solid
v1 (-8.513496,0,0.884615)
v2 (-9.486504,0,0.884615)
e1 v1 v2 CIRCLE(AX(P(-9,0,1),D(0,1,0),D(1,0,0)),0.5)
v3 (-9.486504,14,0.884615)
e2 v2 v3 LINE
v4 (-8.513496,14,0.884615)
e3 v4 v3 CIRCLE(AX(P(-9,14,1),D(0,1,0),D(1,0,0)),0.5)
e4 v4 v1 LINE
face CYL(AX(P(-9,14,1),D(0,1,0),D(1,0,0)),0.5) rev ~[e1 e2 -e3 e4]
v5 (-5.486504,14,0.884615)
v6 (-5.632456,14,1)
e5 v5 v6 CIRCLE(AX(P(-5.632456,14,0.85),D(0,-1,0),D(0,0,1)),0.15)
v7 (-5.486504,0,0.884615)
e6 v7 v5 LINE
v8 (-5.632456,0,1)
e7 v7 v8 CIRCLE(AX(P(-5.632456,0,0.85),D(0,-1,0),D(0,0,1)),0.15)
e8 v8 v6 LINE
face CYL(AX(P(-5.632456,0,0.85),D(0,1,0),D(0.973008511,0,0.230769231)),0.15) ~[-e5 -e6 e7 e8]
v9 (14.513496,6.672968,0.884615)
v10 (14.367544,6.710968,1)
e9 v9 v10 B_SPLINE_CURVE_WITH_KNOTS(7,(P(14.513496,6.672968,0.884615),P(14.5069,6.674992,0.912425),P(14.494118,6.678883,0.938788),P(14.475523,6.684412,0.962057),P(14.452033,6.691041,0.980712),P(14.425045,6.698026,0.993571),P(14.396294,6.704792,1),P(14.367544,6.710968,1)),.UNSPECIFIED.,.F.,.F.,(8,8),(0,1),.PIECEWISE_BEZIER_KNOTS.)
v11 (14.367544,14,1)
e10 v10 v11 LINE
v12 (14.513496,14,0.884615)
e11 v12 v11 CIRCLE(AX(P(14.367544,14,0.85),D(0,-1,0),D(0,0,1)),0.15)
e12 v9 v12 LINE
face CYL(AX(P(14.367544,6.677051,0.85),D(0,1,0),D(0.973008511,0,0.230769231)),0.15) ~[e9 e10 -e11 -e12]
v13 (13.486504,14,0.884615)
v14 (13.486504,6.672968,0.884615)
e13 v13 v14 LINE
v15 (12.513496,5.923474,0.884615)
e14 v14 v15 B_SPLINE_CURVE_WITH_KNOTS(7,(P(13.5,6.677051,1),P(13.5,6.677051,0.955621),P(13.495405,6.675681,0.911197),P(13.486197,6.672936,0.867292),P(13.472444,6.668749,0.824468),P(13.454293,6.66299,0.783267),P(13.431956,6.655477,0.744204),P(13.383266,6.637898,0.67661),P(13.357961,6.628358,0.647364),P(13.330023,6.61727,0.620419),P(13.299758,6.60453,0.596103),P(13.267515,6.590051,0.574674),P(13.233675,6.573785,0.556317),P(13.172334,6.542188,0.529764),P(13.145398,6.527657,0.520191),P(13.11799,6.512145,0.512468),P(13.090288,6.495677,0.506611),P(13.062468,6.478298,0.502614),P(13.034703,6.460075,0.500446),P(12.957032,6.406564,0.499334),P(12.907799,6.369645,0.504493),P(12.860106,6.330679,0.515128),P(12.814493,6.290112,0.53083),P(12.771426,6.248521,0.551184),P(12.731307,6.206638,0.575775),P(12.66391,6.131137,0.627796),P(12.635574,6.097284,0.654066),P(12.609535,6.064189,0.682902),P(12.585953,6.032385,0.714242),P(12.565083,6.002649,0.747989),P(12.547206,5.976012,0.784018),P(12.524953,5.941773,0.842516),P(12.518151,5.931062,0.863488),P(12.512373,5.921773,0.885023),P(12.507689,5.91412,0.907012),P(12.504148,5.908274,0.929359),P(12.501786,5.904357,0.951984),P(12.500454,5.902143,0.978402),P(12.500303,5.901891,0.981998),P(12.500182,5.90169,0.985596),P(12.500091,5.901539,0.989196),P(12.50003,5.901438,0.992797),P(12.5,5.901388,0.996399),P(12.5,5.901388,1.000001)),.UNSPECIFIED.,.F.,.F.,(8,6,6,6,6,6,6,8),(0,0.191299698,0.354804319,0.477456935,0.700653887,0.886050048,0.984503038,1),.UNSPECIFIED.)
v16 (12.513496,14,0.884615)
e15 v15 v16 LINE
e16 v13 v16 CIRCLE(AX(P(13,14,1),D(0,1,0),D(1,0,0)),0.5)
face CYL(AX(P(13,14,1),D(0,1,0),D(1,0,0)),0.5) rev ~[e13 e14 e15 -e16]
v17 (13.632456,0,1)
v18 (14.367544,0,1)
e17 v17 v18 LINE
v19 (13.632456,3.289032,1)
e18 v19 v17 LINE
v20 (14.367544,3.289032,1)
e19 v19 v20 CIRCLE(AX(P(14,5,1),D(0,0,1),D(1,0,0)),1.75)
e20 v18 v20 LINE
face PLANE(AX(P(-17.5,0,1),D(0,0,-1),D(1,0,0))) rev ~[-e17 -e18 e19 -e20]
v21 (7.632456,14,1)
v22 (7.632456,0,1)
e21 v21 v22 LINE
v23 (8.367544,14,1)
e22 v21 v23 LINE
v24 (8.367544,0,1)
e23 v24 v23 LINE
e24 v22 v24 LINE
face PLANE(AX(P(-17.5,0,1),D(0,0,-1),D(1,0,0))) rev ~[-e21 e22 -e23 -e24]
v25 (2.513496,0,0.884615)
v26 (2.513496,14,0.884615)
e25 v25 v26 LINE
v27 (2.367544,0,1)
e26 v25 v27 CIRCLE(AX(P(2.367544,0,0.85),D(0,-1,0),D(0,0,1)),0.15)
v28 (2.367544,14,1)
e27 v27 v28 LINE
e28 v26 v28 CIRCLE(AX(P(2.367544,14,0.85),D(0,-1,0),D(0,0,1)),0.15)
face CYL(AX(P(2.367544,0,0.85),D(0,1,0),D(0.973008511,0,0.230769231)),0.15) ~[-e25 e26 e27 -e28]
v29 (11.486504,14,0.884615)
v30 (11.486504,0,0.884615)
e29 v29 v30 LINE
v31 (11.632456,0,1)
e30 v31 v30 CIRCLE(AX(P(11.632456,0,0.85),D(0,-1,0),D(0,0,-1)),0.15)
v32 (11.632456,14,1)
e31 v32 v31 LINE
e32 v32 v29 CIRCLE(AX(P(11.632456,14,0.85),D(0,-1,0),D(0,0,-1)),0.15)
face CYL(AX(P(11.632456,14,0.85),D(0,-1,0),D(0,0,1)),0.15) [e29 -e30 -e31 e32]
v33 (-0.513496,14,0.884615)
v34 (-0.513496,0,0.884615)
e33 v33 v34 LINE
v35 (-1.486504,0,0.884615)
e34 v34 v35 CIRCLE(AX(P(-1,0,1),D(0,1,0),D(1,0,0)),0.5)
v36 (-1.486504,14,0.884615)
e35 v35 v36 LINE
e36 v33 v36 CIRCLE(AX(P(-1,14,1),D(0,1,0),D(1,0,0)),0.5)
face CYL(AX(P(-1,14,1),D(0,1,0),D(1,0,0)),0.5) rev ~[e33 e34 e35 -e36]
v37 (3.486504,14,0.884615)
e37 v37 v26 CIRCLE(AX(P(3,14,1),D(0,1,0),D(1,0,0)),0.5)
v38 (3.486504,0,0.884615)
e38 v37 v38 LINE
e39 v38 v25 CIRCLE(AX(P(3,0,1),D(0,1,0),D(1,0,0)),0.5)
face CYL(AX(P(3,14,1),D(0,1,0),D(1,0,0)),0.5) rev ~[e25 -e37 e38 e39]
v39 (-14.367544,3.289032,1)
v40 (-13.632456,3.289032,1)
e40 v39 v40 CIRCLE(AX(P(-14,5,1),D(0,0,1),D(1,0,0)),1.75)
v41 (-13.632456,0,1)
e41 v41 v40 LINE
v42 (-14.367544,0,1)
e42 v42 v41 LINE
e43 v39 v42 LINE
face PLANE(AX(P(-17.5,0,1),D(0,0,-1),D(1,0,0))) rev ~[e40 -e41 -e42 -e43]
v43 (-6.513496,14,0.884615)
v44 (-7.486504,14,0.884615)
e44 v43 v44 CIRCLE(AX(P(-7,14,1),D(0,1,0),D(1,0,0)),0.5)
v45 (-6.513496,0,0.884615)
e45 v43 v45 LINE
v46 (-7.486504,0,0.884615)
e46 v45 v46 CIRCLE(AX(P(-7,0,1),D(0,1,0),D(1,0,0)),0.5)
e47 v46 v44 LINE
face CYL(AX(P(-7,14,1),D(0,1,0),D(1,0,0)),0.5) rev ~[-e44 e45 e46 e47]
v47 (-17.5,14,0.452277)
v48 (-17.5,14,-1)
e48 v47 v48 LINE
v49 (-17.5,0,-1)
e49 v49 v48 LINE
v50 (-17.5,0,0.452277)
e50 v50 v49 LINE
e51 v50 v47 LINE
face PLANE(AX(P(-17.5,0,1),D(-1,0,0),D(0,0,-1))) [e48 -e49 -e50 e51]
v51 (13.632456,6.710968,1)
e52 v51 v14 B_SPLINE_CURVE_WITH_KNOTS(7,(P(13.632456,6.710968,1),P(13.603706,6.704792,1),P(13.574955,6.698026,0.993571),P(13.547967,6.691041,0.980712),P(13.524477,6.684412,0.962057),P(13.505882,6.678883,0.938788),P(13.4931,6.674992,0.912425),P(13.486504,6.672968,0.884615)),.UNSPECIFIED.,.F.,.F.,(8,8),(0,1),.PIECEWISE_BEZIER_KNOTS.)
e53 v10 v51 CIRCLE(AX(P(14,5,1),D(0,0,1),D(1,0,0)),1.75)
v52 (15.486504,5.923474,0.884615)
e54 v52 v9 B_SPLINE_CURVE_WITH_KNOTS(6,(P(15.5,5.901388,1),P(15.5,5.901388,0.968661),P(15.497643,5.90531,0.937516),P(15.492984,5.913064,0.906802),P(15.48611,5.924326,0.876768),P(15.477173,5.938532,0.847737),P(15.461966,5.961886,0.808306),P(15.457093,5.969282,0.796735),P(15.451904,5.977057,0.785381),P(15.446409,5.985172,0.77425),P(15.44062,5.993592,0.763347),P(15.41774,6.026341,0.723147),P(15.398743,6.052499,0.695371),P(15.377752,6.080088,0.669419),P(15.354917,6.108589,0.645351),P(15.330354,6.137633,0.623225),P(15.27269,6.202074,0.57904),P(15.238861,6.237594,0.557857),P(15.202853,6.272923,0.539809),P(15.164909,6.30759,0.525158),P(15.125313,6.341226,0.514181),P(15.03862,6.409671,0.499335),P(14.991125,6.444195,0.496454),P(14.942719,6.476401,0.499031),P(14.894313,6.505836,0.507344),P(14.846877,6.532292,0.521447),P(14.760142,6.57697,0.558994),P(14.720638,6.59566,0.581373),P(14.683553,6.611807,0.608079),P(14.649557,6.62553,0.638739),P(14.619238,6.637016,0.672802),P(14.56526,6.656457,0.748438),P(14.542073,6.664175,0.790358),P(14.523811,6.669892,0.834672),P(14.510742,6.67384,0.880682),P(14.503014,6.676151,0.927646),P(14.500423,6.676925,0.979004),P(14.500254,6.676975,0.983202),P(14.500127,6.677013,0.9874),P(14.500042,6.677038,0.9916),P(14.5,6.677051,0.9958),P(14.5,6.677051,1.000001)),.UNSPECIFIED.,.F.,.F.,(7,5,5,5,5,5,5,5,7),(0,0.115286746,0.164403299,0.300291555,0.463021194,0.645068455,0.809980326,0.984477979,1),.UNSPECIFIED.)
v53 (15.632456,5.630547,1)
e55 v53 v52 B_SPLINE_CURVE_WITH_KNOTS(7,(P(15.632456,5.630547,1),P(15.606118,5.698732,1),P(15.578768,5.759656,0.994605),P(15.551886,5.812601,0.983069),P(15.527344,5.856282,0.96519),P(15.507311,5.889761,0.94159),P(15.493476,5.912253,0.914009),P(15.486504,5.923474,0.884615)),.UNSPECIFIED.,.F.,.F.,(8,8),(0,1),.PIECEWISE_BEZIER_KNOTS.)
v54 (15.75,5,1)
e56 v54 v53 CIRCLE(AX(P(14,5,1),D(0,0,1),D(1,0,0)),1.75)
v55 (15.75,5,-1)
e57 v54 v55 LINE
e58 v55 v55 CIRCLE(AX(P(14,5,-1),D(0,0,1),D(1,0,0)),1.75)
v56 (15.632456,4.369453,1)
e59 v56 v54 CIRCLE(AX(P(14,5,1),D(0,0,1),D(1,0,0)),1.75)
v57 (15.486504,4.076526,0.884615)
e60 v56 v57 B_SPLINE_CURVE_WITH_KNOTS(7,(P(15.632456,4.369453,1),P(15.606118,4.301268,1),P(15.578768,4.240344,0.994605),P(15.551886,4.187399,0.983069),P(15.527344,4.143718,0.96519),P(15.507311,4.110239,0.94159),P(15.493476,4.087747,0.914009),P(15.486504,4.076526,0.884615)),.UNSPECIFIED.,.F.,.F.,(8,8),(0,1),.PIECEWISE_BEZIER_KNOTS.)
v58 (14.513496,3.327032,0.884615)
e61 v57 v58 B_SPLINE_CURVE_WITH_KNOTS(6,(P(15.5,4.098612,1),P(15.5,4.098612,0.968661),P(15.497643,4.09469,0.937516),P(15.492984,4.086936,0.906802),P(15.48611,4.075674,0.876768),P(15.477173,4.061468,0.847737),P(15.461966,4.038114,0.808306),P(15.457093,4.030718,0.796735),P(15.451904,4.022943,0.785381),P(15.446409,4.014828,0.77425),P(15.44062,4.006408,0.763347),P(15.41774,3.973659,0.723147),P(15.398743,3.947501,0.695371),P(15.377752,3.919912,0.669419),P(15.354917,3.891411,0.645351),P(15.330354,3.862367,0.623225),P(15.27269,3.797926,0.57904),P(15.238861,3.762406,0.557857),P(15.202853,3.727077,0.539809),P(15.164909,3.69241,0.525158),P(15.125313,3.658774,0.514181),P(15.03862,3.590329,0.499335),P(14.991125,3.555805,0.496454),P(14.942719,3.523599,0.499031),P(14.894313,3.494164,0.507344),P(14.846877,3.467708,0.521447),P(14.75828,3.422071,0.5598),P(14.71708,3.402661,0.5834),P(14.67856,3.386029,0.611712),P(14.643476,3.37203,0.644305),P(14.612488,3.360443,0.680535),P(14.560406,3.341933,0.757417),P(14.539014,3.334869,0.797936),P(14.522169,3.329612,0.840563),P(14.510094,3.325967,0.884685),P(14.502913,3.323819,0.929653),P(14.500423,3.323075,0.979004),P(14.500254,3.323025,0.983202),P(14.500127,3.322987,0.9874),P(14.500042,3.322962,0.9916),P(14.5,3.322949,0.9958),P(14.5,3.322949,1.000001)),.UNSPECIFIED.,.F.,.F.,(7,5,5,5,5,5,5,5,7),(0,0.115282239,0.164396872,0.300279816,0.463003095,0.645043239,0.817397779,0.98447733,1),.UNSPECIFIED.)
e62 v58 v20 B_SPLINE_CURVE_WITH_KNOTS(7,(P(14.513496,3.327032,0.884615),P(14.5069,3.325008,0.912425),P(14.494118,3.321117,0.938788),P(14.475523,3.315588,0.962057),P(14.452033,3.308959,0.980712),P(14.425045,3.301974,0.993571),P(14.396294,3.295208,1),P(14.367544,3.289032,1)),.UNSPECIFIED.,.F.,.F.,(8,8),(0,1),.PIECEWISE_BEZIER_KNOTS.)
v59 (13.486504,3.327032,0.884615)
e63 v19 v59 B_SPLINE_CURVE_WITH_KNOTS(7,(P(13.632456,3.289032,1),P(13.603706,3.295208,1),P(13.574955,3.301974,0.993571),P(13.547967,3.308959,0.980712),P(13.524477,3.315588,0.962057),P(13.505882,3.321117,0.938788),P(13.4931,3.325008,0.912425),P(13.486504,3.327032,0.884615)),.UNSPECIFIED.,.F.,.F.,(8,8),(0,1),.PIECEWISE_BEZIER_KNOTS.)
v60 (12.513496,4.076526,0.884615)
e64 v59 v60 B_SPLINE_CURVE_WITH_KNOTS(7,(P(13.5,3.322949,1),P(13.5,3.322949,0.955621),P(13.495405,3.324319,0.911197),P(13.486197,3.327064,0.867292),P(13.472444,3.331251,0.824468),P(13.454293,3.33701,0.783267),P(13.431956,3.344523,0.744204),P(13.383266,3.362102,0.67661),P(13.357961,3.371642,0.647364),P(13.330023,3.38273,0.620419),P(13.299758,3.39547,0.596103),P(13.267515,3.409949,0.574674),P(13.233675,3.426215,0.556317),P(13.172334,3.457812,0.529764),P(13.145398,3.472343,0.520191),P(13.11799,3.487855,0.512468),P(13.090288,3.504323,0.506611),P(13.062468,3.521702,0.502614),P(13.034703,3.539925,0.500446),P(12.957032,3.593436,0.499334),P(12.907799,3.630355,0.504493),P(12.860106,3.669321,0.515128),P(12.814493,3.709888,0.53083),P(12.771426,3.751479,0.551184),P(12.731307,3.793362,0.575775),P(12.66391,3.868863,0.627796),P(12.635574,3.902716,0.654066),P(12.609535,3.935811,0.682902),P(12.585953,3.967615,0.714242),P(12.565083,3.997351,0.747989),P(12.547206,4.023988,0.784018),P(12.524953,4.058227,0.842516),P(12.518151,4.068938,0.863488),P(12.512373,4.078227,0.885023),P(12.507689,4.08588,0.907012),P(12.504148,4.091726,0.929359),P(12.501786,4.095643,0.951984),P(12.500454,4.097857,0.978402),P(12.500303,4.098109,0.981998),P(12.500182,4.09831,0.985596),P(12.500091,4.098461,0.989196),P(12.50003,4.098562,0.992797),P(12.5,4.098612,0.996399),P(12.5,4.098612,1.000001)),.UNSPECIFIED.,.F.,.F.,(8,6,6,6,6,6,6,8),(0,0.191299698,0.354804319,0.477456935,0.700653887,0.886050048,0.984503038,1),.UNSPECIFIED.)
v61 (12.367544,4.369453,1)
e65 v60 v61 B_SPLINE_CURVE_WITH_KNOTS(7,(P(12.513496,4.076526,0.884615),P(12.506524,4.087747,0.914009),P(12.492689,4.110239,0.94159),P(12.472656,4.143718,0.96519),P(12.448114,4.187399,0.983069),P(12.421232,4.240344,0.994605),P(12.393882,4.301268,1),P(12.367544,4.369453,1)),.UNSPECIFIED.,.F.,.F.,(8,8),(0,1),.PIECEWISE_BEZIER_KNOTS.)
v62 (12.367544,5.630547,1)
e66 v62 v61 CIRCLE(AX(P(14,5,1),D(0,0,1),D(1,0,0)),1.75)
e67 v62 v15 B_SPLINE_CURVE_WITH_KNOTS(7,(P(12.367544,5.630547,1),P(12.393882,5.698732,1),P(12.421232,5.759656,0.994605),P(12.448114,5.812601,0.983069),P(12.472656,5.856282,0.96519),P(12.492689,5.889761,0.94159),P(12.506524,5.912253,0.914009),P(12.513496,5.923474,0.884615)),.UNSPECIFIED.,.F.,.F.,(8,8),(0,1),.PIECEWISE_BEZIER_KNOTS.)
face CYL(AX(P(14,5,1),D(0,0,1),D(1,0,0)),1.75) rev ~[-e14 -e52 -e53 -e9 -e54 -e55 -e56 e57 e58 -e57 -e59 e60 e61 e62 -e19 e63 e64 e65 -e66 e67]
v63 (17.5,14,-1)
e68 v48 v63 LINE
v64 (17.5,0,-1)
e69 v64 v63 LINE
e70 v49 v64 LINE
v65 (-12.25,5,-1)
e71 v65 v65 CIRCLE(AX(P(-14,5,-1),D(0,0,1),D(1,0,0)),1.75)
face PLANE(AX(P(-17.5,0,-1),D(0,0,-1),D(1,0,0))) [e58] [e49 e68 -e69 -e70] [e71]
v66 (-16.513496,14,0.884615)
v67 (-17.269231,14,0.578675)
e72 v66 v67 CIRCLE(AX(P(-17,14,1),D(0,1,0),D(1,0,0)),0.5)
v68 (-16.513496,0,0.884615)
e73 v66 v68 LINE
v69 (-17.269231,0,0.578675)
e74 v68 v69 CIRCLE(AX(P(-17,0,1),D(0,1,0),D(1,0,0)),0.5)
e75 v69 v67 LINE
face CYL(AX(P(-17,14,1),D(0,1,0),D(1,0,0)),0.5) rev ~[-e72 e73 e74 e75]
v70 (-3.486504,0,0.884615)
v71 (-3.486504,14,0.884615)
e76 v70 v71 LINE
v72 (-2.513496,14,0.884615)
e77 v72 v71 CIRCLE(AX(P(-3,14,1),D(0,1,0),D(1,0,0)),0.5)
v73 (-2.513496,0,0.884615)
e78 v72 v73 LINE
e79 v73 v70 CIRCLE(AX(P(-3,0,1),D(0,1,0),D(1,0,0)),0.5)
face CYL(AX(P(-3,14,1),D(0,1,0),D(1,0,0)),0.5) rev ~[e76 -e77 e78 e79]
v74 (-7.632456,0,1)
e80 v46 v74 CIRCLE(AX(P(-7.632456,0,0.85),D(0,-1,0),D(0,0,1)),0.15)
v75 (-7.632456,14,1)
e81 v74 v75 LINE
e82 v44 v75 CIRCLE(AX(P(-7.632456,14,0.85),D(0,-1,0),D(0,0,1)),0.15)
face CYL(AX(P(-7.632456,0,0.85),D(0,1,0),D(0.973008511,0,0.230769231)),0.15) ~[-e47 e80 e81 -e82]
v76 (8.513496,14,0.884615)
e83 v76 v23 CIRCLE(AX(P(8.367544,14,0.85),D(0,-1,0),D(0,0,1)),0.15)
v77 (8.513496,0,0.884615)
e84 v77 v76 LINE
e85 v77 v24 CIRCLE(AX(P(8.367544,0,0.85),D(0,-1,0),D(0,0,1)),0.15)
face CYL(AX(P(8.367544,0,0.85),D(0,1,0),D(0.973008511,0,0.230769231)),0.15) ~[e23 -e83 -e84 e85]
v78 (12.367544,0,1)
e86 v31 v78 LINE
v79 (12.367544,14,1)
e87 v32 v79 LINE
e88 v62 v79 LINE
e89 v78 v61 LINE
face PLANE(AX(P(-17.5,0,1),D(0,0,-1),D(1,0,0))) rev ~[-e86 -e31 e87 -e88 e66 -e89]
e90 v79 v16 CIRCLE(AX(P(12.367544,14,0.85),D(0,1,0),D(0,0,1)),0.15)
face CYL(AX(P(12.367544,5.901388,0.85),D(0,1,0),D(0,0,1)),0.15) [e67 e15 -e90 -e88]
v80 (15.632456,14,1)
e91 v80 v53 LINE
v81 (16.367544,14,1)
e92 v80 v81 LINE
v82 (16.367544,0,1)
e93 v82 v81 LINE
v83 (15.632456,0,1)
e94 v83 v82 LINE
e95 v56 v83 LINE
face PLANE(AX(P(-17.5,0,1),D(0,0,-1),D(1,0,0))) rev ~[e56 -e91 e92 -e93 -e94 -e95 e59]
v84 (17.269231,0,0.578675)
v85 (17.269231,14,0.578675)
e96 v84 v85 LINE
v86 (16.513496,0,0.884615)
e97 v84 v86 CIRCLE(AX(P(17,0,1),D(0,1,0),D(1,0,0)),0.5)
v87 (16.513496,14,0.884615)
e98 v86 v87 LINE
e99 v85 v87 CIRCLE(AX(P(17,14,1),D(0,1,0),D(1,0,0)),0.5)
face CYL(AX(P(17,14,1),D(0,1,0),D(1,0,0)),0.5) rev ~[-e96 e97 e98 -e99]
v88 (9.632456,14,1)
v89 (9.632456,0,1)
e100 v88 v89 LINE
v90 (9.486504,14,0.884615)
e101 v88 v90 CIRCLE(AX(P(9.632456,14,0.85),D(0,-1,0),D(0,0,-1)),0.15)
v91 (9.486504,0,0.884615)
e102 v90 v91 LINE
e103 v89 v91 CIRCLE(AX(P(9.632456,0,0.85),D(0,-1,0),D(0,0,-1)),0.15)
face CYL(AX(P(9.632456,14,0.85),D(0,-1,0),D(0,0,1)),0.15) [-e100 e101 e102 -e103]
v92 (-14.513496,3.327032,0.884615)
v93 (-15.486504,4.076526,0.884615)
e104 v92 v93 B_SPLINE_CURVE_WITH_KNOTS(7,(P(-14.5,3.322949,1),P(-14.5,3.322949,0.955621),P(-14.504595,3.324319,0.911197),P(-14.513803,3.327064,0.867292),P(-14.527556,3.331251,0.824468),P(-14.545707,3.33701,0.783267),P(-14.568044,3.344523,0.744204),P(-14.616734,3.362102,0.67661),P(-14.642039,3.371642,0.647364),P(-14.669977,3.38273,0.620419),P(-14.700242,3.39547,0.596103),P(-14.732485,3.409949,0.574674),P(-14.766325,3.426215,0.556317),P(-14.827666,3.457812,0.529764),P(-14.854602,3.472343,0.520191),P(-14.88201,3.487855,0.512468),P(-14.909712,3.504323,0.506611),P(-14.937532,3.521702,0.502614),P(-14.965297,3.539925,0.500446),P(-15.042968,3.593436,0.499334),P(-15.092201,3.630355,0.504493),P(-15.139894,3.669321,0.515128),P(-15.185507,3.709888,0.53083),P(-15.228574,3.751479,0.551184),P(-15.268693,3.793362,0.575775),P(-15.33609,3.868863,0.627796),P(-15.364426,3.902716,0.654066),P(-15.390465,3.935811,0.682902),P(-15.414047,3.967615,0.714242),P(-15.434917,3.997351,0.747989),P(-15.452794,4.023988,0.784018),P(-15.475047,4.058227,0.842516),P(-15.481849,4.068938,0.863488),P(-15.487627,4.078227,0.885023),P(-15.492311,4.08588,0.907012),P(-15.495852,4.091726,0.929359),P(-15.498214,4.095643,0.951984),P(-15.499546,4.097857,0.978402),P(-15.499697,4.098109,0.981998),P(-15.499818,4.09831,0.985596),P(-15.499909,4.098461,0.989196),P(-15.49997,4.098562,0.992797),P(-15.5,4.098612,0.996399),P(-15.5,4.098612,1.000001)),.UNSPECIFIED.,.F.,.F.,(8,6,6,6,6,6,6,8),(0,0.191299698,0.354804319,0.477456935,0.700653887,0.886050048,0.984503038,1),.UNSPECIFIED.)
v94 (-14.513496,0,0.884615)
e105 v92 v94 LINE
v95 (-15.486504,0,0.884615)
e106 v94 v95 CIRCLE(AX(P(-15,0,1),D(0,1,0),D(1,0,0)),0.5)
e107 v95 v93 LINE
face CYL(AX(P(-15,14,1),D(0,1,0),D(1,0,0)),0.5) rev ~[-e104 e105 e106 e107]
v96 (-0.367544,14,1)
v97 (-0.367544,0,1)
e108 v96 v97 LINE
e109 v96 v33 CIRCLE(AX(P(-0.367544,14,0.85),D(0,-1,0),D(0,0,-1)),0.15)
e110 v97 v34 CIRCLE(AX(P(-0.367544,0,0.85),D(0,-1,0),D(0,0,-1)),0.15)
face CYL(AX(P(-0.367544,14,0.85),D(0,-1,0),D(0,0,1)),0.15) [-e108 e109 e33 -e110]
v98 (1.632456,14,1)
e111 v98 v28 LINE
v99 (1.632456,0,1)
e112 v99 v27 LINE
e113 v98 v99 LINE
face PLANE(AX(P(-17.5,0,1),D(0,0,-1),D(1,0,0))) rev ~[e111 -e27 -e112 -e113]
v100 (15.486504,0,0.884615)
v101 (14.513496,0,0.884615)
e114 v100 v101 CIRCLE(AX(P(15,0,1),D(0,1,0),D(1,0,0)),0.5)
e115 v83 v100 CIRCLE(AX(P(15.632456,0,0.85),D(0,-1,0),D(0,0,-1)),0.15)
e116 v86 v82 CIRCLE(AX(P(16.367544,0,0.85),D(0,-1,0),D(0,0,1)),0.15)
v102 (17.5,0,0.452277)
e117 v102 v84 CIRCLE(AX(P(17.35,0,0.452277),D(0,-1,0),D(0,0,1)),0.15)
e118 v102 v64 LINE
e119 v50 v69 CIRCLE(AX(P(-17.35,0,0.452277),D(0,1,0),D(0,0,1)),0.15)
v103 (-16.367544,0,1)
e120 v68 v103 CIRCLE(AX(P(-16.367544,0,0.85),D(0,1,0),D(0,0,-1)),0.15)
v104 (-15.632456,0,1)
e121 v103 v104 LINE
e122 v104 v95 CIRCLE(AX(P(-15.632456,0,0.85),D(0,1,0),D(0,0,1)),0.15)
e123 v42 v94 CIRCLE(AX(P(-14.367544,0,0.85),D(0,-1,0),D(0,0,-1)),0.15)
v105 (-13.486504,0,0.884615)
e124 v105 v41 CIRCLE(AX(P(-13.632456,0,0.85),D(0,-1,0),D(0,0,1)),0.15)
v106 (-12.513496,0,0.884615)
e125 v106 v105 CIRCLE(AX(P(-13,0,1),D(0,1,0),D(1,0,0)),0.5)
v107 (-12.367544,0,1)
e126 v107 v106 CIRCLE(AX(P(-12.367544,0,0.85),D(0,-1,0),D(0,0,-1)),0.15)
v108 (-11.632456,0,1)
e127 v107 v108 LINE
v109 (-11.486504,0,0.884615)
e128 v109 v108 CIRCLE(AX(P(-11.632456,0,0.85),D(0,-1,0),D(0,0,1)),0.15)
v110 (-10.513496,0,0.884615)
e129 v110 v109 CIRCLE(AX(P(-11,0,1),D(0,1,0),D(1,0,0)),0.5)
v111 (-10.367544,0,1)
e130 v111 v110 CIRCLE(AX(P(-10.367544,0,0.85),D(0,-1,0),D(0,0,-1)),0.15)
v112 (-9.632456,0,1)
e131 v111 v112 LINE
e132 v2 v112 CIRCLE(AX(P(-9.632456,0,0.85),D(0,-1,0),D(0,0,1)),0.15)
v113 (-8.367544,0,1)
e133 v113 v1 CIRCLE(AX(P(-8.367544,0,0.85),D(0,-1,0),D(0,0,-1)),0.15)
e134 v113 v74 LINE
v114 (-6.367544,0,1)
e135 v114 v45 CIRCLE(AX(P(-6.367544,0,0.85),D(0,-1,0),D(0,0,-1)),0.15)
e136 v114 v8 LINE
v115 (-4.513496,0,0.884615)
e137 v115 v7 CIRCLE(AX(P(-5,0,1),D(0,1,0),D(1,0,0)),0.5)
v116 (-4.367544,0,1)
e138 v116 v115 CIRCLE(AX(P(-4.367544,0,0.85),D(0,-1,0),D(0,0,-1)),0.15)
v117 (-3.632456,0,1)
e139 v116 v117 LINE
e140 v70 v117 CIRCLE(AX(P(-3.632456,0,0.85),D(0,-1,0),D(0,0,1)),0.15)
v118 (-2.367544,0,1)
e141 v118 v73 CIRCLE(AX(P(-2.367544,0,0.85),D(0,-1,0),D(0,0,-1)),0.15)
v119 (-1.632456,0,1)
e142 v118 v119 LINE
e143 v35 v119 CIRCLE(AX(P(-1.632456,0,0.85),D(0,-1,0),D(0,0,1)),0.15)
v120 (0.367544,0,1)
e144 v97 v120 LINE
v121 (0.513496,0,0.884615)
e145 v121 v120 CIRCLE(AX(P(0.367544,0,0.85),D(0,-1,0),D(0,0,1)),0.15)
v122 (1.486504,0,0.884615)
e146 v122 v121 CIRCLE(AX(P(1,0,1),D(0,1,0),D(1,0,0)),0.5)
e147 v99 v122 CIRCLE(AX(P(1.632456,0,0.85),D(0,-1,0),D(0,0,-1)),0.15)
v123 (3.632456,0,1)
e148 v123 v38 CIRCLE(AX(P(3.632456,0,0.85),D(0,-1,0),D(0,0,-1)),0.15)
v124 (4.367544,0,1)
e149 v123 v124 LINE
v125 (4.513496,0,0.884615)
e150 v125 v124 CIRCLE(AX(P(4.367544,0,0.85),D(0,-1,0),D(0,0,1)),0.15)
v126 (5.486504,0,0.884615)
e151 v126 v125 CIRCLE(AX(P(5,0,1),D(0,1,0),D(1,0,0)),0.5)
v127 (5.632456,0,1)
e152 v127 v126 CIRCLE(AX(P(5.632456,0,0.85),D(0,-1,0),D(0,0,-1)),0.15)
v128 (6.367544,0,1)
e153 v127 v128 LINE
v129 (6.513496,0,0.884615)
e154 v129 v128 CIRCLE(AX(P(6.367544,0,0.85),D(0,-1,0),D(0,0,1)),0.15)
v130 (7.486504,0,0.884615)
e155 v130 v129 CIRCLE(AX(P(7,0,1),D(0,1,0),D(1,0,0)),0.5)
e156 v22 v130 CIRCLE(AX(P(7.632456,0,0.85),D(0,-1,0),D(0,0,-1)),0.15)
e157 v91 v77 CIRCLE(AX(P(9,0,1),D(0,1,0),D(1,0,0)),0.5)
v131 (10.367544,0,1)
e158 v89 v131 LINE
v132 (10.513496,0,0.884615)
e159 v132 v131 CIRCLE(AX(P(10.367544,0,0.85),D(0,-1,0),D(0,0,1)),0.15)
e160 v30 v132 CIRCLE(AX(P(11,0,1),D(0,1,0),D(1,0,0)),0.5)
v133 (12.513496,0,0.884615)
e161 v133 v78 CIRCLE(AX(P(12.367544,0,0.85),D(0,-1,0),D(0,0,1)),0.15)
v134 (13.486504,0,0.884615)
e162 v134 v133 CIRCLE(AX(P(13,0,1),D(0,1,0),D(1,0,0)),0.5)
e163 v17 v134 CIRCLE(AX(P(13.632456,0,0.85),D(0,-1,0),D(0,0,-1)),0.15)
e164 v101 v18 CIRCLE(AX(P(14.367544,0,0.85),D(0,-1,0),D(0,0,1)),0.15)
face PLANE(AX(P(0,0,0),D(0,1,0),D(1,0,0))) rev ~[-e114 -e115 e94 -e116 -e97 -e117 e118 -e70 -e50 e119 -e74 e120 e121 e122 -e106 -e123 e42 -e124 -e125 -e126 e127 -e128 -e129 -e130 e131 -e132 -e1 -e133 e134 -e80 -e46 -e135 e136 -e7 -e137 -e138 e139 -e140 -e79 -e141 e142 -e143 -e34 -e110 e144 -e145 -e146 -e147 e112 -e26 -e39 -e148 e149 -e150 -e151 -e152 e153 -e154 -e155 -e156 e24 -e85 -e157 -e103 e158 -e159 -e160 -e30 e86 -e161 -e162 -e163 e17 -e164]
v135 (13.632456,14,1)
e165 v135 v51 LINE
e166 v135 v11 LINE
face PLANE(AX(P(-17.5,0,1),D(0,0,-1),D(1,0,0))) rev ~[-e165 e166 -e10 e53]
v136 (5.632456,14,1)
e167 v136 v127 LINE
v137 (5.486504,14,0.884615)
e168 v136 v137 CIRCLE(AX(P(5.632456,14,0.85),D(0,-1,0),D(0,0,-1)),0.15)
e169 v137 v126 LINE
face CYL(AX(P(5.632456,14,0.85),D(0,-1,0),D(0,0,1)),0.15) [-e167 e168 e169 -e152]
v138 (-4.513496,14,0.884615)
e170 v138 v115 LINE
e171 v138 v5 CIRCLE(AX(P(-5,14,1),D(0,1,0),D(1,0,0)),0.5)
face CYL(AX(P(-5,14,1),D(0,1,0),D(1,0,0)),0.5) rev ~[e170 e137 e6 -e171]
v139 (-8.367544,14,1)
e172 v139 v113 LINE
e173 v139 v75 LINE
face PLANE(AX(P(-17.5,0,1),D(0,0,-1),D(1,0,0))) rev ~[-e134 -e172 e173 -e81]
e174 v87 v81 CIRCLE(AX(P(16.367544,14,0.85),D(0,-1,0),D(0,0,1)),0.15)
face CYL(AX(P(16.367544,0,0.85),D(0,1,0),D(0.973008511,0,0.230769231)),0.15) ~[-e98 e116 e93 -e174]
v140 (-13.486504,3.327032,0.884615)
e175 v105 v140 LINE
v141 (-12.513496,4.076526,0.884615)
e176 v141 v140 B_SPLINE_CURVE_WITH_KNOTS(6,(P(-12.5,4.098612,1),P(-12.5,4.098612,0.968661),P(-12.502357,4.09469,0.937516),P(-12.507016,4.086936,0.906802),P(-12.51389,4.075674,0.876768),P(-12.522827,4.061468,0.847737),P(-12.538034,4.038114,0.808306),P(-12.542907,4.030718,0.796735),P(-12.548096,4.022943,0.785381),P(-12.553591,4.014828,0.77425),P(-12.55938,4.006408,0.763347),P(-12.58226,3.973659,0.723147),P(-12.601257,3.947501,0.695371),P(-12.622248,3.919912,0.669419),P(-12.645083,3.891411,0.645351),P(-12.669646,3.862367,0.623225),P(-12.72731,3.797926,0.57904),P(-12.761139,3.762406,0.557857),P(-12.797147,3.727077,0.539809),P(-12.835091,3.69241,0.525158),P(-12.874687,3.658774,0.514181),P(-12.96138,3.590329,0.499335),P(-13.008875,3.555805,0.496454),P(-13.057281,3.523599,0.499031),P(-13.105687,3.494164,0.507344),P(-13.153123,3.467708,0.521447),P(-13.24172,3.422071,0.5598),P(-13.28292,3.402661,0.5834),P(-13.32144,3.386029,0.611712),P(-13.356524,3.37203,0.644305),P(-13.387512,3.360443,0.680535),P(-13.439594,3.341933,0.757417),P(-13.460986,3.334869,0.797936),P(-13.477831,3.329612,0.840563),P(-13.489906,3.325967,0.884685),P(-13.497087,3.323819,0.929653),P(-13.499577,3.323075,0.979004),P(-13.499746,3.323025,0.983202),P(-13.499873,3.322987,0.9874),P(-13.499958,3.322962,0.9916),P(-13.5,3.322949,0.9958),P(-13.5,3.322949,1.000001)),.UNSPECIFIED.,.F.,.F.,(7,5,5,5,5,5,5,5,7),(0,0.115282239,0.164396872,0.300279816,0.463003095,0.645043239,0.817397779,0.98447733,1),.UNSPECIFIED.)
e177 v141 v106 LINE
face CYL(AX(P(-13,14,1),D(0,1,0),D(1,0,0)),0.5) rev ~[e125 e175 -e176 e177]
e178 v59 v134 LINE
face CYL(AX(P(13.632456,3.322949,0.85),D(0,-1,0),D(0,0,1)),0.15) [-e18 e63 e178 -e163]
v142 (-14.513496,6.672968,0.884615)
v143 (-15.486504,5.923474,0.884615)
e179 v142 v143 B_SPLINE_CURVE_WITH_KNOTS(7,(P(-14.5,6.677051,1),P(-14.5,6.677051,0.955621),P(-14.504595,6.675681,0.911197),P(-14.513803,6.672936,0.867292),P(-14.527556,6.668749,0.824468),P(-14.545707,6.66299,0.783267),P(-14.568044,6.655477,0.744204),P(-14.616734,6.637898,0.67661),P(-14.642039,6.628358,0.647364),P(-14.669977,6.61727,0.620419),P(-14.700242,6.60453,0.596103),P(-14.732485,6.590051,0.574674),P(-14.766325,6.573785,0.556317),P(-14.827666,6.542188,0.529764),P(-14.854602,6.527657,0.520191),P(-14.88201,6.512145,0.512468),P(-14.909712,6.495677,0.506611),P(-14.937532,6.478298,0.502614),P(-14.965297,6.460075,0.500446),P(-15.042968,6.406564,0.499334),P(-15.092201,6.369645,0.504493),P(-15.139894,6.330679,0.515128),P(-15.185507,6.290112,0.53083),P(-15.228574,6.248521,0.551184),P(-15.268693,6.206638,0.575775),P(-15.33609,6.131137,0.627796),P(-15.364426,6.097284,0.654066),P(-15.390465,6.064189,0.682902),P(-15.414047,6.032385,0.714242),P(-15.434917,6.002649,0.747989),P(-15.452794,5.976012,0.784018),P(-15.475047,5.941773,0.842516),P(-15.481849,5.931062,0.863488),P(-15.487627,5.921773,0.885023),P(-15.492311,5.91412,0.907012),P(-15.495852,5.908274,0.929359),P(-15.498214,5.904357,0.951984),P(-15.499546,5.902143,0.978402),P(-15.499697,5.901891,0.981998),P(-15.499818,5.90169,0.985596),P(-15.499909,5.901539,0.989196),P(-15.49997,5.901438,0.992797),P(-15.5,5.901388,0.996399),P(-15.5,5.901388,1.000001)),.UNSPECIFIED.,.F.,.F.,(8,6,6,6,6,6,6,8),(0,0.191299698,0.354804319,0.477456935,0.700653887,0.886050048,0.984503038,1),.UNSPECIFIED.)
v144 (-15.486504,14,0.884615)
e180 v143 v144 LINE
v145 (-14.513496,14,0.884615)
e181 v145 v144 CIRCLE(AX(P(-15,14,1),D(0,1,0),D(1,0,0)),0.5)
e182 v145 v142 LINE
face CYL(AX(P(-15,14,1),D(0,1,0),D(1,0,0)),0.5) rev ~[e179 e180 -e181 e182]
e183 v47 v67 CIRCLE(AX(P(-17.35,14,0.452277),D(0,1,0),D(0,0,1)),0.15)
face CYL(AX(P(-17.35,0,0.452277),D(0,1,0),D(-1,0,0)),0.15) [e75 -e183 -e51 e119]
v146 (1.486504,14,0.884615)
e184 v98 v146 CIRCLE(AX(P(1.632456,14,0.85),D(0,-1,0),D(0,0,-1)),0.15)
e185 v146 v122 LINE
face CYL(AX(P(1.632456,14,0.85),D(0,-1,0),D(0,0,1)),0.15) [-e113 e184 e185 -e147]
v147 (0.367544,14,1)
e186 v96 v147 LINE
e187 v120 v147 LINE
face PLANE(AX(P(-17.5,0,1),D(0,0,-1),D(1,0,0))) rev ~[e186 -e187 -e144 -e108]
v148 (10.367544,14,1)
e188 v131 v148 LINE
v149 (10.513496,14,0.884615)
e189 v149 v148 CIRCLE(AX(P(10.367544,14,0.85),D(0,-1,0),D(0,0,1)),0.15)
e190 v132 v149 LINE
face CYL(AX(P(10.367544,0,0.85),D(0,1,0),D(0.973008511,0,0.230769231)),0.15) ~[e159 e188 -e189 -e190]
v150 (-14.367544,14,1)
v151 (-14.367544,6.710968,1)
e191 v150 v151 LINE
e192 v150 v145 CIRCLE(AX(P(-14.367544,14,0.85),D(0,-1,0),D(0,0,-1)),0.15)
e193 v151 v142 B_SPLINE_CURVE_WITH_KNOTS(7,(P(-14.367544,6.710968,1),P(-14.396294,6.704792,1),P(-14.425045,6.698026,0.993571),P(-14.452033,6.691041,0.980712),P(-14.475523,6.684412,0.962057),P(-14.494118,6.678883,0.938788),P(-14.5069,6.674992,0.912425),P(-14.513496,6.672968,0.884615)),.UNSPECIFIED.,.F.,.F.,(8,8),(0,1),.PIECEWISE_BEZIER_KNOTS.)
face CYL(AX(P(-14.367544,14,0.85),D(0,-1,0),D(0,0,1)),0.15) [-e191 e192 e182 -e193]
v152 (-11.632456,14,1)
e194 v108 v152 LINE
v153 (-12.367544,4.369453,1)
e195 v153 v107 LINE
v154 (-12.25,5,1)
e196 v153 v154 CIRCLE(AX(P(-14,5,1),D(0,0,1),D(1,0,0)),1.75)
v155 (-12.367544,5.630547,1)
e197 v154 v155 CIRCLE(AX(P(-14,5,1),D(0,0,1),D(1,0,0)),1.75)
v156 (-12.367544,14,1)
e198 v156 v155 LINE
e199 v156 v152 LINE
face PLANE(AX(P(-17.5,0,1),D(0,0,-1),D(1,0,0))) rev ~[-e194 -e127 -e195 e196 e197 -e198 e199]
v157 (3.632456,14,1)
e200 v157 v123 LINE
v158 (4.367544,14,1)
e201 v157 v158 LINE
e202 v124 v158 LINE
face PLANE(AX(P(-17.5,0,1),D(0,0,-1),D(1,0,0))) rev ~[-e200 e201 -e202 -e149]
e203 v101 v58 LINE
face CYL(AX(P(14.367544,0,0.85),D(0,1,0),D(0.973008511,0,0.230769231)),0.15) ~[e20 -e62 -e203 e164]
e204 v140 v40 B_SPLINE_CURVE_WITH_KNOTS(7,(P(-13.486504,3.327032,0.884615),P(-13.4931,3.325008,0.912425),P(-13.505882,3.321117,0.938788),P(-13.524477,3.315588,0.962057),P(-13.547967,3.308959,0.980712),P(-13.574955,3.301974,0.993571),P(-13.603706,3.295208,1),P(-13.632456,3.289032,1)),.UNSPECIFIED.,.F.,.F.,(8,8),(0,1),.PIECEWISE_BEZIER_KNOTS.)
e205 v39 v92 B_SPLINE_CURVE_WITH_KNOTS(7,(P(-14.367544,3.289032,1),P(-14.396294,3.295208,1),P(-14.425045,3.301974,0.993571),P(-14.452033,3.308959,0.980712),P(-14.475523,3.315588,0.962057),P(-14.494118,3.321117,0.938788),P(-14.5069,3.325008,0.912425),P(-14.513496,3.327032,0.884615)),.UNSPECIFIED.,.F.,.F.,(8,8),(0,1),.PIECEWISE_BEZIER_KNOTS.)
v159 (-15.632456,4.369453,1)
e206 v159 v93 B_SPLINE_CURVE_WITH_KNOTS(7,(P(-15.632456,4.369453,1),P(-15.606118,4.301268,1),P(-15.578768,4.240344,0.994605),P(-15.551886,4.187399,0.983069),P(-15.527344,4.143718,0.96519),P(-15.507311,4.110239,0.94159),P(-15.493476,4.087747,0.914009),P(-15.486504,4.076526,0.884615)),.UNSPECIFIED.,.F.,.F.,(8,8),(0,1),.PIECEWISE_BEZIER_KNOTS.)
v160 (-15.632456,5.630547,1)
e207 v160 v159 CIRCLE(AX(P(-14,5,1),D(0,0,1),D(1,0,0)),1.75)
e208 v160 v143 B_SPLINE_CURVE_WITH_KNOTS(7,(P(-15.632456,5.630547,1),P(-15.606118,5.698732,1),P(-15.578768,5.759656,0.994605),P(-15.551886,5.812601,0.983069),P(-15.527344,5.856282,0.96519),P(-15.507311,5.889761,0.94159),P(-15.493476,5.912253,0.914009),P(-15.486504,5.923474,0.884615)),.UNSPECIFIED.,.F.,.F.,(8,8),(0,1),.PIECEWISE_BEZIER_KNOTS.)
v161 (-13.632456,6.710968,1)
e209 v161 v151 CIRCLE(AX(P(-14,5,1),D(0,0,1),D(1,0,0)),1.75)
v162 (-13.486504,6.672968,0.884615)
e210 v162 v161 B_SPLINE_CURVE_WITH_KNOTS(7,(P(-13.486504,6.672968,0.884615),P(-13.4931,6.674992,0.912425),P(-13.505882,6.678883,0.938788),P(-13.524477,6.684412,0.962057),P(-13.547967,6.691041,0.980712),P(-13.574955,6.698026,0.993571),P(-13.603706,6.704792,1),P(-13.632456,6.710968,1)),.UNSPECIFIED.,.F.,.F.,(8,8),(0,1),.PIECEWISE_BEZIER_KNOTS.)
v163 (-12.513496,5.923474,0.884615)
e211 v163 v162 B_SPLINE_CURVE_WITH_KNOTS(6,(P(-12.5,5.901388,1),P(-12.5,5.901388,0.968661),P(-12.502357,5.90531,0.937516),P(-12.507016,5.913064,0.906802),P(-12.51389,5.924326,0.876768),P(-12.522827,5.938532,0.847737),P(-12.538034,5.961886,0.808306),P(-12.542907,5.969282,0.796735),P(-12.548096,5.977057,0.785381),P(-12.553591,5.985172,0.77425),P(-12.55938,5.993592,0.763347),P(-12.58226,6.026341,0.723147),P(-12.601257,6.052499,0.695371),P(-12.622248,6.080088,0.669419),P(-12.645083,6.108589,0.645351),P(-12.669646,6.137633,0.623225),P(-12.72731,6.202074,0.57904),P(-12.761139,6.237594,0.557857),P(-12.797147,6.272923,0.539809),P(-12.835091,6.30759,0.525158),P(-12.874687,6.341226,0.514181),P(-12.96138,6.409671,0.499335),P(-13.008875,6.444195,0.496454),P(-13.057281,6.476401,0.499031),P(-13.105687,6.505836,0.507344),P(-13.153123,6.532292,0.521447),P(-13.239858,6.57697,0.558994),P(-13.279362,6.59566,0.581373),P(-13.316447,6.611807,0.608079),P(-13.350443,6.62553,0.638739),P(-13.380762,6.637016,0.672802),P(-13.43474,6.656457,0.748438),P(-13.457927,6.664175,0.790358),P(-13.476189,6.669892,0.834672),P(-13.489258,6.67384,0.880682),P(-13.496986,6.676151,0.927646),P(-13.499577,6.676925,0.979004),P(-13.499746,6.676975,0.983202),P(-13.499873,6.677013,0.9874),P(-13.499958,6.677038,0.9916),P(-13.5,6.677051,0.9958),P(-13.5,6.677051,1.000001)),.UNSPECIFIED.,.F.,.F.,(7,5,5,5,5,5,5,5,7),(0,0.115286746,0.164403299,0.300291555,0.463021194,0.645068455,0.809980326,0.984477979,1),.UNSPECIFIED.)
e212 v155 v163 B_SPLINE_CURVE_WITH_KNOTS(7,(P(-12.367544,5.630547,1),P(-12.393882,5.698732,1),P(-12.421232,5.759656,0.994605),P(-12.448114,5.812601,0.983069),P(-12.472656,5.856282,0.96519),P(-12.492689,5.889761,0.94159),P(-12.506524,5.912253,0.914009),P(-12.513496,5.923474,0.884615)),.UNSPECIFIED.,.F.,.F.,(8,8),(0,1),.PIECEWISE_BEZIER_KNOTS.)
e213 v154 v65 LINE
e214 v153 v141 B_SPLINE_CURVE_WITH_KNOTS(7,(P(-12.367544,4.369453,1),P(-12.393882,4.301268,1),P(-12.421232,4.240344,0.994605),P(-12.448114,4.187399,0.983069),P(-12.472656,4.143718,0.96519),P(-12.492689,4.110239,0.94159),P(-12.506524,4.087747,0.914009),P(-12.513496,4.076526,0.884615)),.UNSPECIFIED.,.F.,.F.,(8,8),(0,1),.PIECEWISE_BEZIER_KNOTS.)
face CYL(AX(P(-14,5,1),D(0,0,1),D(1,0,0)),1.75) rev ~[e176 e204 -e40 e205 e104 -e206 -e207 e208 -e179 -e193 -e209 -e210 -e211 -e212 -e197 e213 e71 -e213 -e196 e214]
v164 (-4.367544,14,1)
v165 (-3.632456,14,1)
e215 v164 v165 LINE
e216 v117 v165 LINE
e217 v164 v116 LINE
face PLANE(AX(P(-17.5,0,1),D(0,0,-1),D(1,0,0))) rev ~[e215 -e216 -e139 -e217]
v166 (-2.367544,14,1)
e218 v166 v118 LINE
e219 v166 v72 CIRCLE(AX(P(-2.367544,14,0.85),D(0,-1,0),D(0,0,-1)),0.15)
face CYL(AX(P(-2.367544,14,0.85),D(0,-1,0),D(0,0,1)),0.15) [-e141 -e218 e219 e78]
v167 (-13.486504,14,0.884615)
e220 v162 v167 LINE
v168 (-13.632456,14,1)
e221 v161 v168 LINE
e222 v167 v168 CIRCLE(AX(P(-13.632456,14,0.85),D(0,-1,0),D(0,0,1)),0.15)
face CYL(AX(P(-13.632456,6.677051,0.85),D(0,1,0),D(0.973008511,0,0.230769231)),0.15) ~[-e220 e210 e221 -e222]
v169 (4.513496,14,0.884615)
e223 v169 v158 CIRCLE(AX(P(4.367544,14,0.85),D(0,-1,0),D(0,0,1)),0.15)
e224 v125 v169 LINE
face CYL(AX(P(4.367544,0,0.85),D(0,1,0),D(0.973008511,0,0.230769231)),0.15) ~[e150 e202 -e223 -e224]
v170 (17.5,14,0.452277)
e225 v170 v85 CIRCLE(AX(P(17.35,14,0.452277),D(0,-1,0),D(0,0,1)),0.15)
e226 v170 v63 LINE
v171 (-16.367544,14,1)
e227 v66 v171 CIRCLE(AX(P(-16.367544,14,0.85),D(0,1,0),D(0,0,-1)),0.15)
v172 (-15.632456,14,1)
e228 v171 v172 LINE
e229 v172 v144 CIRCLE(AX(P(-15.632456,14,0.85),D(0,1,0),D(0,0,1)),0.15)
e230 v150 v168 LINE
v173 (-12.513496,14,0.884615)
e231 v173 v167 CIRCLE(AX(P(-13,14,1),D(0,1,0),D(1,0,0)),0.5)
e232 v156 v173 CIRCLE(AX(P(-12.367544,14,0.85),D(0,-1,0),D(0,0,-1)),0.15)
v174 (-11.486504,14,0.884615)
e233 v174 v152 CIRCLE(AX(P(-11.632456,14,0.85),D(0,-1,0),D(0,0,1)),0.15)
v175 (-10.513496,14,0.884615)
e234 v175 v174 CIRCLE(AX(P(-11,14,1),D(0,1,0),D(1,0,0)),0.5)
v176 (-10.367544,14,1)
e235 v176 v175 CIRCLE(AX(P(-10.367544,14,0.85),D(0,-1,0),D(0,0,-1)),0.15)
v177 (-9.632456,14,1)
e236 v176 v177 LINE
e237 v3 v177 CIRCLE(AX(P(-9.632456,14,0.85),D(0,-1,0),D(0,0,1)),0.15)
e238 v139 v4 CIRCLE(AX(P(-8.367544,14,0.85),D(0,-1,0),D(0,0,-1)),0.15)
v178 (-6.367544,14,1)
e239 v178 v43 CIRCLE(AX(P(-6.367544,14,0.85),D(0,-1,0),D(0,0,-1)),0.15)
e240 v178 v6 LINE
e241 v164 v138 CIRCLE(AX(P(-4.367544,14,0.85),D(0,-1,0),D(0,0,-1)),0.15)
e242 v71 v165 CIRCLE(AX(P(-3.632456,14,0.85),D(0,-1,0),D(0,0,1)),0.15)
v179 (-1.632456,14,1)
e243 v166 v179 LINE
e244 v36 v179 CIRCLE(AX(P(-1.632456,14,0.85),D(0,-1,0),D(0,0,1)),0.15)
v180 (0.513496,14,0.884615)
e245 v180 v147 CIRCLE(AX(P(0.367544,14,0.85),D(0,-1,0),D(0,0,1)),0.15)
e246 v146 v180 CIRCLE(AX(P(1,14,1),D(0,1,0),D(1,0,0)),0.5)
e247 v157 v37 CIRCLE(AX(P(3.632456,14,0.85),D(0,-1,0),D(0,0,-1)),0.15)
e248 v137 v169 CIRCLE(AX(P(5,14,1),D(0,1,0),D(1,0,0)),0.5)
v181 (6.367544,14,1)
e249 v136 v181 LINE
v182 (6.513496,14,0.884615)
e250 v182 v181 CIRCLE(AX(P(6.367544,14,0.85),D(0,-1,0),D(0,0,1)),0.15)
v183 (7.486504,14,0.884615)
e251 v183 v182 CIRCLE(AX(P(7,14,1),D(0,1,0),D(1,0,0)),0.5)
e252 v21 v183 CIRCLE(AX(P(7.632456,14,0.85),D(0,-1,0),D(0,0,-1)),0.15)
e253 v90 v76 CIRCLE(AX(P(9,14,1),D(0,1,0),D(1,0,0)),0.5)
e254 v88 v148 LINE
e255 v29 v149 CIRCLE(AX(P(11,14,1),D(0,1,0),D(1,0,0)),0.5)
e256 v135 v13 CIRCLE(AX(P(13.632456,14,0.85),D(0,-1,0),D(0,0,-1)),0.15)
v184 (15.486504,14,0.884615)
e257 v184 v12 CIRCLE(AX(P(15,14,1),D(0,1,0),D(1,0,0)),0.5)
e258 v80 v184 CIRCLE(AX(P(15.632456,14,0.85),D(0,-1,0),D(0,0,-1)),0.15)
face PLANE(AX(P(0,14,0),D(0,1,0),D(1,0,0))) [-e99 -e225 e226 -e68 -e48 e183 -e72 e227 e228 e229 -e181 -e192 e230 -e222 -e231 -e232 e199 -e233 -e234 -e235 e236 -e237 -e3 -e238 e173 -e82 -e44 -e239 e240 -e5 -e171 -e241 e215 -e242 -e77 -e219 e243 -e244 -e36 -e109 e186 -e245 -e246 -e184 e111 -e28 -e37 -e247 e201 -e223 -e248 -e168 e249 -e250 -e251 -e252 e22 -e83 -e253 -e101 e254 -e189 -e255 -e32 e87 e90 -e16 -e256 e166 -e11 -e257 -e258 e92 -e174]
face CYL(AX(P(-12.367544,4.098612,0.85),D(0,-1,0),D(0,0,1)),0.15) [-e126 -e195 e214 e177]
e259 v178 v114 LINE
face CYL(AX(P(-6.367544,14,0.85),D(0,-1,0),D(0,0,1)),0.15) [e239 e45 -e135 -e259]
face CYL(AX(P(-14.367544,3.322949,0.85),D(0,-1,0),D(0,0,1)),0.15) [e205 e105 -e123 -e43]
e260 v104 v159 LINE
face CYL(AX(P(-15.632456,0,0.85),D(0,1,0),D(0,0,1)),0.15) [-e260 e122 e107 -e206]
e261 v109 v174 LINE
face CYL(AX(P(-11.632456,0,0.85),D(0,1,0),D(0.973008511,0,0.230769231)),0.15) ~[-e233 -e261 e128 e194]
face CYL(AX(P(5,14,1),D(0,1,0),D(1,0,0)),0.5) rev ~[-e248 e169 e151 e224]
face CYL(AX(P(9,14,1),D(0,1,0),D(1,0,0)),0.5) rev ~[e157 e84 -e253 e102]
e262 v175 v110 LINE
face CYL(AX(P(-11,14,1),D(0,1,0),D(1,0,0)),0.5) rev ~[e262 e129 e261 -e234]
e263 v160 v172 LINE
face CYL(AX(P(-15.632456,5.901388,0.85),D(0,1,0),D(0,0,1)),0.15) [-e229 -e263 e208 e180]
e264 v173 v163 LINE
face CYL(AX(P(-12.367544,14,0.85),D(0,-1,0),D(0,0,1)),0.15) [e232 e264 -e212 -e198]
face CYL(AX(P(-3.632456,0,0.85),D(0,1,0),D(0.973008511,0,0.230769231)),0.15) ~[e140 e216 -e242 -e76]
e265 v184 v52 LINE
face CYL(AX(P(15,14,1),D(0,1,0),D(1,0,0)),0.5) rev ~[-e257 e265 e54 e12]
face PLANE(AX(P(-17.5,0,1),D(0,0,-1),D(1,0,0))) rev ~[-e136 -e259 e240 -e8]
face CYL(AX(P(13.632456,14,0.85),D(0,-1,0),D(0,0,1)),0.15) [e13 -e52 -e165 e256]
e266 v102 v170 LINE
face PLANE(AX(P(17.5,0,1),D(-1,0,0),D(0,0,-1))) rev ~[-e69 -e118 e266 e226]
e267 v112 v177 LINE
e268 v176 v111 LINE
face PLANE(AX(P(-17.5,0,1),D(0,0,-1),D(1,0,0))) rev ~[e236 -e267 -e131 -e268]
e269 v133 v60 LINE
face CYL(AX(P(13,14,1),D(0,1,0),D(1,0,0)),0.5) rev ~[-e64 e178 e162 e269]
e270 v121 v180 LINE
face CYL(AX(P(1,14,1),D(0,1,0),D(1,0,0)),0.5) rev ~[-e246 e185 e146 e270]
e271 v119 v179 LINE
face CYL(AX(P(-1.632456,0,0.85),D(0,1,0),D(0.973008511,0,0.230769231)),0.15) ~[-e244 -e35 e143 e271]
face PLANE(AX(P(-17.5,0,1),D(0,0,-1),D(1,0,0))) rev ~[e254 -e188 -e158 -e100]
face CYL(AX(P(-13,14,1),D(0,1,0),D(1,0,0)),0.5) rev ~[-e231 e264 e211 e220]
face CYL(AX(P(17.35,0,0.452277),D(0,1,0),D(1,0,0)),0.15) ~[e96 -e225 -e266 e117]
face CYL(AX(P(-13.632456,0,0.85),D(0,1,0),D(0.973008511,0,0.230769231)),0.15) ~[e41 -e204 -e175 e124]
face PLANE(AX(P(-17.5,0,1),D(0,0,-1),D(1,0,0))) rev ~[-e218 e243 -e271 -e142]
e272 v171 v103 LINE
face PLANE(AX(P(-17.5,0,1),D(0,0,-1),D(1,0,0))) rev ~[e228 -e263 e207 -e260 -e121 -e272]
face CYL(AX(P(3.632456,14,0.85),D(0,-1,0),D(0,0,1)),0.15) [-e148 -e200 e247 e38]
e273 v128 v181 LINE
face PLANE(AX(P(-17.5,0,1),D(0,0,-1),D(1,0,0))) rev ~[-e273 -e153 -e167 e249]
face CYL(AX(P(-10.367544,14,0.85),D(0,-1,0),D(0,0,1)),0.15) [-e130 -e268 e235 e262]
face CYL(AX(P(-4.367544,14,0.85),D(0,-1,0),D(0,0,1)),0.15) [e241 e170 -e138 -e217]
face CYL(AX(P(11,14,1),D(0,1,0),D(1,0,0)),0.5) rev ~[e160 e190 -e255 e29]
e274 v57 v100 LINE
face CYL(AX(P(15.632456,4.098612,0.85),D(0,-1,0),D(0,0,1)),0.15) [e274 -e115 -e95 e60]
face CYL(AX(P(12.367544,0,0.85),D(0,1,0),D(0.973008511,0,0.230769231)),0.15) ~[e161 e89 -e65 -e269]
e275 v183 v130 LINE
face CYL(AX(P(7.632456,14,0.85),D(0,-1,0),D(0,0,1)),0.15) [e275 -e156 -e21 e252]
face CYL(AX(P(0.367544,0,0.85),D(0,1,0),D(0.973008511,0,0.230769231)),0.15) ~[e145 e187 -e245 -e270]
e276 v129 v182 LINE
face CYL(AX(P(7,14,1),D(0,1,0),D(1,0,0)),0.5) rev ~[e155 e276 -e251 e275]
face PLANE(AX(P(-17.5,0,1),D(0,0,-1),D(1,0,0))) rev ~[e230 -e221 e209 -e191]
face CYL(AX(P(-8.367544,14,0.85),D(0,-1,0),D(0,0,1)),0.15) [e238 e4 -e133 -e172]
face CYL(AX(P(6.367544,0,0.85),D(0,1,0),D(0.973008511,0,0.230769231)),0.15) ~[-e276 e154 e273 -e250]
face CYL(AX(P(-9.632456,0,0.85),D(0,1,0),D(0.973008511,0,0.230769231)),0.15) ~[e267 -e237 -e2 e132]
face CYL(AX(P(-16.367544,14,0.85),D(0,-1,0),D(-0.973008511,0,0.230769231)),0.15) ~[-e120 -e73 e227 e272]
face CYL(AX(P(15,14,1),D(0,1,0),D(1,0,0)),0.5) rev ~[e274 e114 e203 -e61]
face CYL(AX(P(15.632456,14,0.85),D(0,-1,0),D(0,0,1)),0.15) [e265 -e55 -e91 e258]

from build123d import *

# Parameters (mm, degrees)
SKETCH1_W           = 35
SKETCH1_H           = 2
BOSS_EXTRUDE1_DEPTH = 14
SKETCH2_R           = 1.75
CUT_EXTRUDE1_DEPTH  = 14
SKETCH3_R           = 0.5
CUT_EXTRUDE2_DEPTH  = 23.433234274
LPATTERN1_COUNT     = 18
LPATTERN1_PITCH     = 2
FILLET1_R           = 0.15


with BuildPart() as part:
    # Sketch1 → Boss-Extrude1 (new body)
    with BuildSketch(Plane(origin=(0, 0, 0), x_dir=(1, 0, 0), z_dir=(0, 1, 0))):
        Rectangle(SKETCH1_W, SKETCH1_H)
    extrude(amount=BOSS_EXTRUDE1_DEPTH)

    # Sketch2 → Cut-Extrude1 (cut)
    with BuildSketch(Plane.XY.offset(1)):
        with Locations((-14, 5)):
            Circle(SKETCH2_R)
        with Locations((14, 5)):
            Circle(SKETCH2_R)
    extrude(amount=-CUT_EXTRUDE1_DEPTH, mode=Mode.SUBTRACT)

    # Sketch3 → Cut-Extrude2 (cut, through all)
    with BuildSketch(Plane(origin=(0, 14, 0), x_dir=(1, 0, 0), z_dir=(0, 1, 0))):
        with Locations((-17, -1)):
            Circle(SKETCH3_R)
    cut_extrude2 = extrude(amount=-CUT_EXTRUDE2_DEPTH, mode=Mode.SUBTRACT)

    # LPattern1: Cut-Extrude2 ×18
    with Locations(*[(i * LPATTERN1_PITCH, 0, 0) for i in range(1, LPATTERN1_COUNT)]):
        add(cut_extrude2, mode=Mode.SUBTRACT)

    # Fillet1
    fillet1_edges = [part.edges().sort_by_distance(p)[0] for p in [
        (-16.5, 7, 1),
        (-17.5, 7, 1),
        (-14.5, 10.338525492, 1),
        (-15.5, 9.950693909, 1),
        (13.5, 1.661474508, 1),
        (12.5, 2.049306091, 1),
        (15.5, 2.049306091, 1),
        (14.5, 1.661474508, 1),
        (17.5, 7, 1),
        (16.5, 7, 1),
        (15.5, 9.950693909, 1),
        (14.5, 10.338525492, 1),
        (13.5, 10.338525492, 1),
        (12.5, 9.950693909, 1),
        (11.5, 7, 1),
        (10.5, 7, 1),
        (9.5, 7, 1),
        (8.5, 7, 1),
        (7.5, 7, 1),
        (6.5, 7, 1),
        (5.5, 7, 1),
        (4.5, 7, 1),
        (3.5, 7, 1),
        (2.5, 7, 1),
        (1.5, 7, 1),
        (0.5, 7, 1),
        (-0.5, 7, 1),
        (-1.5, 7, 1),
        (-2.5, 7, 1),
        (-3.5, 7, 1),
        (-4.5, 7, 1),
        (-5.5, 7, 1),
        (-6.5, 7, 1),
        (-7.5, 7, 1),
        (-8.5, 7, 1),
        (-9.5, 7, 1),
        (-12.5, 9.950693909, 1),
        (-13.5, 10.338525492, 1),
        (-10.5, 7, 1),
        (-11.5, 7, 1),
        (-12.5, 2.049306091, 1),
        (-13.5, 1.661474508, 1),
        (-14.5, 1.661474508, 1),
        (-15.5, 2.049306091, 1),
    ]]
    fillet(fillet1_edges, radius=FILLET1_R)


solid = part.part
